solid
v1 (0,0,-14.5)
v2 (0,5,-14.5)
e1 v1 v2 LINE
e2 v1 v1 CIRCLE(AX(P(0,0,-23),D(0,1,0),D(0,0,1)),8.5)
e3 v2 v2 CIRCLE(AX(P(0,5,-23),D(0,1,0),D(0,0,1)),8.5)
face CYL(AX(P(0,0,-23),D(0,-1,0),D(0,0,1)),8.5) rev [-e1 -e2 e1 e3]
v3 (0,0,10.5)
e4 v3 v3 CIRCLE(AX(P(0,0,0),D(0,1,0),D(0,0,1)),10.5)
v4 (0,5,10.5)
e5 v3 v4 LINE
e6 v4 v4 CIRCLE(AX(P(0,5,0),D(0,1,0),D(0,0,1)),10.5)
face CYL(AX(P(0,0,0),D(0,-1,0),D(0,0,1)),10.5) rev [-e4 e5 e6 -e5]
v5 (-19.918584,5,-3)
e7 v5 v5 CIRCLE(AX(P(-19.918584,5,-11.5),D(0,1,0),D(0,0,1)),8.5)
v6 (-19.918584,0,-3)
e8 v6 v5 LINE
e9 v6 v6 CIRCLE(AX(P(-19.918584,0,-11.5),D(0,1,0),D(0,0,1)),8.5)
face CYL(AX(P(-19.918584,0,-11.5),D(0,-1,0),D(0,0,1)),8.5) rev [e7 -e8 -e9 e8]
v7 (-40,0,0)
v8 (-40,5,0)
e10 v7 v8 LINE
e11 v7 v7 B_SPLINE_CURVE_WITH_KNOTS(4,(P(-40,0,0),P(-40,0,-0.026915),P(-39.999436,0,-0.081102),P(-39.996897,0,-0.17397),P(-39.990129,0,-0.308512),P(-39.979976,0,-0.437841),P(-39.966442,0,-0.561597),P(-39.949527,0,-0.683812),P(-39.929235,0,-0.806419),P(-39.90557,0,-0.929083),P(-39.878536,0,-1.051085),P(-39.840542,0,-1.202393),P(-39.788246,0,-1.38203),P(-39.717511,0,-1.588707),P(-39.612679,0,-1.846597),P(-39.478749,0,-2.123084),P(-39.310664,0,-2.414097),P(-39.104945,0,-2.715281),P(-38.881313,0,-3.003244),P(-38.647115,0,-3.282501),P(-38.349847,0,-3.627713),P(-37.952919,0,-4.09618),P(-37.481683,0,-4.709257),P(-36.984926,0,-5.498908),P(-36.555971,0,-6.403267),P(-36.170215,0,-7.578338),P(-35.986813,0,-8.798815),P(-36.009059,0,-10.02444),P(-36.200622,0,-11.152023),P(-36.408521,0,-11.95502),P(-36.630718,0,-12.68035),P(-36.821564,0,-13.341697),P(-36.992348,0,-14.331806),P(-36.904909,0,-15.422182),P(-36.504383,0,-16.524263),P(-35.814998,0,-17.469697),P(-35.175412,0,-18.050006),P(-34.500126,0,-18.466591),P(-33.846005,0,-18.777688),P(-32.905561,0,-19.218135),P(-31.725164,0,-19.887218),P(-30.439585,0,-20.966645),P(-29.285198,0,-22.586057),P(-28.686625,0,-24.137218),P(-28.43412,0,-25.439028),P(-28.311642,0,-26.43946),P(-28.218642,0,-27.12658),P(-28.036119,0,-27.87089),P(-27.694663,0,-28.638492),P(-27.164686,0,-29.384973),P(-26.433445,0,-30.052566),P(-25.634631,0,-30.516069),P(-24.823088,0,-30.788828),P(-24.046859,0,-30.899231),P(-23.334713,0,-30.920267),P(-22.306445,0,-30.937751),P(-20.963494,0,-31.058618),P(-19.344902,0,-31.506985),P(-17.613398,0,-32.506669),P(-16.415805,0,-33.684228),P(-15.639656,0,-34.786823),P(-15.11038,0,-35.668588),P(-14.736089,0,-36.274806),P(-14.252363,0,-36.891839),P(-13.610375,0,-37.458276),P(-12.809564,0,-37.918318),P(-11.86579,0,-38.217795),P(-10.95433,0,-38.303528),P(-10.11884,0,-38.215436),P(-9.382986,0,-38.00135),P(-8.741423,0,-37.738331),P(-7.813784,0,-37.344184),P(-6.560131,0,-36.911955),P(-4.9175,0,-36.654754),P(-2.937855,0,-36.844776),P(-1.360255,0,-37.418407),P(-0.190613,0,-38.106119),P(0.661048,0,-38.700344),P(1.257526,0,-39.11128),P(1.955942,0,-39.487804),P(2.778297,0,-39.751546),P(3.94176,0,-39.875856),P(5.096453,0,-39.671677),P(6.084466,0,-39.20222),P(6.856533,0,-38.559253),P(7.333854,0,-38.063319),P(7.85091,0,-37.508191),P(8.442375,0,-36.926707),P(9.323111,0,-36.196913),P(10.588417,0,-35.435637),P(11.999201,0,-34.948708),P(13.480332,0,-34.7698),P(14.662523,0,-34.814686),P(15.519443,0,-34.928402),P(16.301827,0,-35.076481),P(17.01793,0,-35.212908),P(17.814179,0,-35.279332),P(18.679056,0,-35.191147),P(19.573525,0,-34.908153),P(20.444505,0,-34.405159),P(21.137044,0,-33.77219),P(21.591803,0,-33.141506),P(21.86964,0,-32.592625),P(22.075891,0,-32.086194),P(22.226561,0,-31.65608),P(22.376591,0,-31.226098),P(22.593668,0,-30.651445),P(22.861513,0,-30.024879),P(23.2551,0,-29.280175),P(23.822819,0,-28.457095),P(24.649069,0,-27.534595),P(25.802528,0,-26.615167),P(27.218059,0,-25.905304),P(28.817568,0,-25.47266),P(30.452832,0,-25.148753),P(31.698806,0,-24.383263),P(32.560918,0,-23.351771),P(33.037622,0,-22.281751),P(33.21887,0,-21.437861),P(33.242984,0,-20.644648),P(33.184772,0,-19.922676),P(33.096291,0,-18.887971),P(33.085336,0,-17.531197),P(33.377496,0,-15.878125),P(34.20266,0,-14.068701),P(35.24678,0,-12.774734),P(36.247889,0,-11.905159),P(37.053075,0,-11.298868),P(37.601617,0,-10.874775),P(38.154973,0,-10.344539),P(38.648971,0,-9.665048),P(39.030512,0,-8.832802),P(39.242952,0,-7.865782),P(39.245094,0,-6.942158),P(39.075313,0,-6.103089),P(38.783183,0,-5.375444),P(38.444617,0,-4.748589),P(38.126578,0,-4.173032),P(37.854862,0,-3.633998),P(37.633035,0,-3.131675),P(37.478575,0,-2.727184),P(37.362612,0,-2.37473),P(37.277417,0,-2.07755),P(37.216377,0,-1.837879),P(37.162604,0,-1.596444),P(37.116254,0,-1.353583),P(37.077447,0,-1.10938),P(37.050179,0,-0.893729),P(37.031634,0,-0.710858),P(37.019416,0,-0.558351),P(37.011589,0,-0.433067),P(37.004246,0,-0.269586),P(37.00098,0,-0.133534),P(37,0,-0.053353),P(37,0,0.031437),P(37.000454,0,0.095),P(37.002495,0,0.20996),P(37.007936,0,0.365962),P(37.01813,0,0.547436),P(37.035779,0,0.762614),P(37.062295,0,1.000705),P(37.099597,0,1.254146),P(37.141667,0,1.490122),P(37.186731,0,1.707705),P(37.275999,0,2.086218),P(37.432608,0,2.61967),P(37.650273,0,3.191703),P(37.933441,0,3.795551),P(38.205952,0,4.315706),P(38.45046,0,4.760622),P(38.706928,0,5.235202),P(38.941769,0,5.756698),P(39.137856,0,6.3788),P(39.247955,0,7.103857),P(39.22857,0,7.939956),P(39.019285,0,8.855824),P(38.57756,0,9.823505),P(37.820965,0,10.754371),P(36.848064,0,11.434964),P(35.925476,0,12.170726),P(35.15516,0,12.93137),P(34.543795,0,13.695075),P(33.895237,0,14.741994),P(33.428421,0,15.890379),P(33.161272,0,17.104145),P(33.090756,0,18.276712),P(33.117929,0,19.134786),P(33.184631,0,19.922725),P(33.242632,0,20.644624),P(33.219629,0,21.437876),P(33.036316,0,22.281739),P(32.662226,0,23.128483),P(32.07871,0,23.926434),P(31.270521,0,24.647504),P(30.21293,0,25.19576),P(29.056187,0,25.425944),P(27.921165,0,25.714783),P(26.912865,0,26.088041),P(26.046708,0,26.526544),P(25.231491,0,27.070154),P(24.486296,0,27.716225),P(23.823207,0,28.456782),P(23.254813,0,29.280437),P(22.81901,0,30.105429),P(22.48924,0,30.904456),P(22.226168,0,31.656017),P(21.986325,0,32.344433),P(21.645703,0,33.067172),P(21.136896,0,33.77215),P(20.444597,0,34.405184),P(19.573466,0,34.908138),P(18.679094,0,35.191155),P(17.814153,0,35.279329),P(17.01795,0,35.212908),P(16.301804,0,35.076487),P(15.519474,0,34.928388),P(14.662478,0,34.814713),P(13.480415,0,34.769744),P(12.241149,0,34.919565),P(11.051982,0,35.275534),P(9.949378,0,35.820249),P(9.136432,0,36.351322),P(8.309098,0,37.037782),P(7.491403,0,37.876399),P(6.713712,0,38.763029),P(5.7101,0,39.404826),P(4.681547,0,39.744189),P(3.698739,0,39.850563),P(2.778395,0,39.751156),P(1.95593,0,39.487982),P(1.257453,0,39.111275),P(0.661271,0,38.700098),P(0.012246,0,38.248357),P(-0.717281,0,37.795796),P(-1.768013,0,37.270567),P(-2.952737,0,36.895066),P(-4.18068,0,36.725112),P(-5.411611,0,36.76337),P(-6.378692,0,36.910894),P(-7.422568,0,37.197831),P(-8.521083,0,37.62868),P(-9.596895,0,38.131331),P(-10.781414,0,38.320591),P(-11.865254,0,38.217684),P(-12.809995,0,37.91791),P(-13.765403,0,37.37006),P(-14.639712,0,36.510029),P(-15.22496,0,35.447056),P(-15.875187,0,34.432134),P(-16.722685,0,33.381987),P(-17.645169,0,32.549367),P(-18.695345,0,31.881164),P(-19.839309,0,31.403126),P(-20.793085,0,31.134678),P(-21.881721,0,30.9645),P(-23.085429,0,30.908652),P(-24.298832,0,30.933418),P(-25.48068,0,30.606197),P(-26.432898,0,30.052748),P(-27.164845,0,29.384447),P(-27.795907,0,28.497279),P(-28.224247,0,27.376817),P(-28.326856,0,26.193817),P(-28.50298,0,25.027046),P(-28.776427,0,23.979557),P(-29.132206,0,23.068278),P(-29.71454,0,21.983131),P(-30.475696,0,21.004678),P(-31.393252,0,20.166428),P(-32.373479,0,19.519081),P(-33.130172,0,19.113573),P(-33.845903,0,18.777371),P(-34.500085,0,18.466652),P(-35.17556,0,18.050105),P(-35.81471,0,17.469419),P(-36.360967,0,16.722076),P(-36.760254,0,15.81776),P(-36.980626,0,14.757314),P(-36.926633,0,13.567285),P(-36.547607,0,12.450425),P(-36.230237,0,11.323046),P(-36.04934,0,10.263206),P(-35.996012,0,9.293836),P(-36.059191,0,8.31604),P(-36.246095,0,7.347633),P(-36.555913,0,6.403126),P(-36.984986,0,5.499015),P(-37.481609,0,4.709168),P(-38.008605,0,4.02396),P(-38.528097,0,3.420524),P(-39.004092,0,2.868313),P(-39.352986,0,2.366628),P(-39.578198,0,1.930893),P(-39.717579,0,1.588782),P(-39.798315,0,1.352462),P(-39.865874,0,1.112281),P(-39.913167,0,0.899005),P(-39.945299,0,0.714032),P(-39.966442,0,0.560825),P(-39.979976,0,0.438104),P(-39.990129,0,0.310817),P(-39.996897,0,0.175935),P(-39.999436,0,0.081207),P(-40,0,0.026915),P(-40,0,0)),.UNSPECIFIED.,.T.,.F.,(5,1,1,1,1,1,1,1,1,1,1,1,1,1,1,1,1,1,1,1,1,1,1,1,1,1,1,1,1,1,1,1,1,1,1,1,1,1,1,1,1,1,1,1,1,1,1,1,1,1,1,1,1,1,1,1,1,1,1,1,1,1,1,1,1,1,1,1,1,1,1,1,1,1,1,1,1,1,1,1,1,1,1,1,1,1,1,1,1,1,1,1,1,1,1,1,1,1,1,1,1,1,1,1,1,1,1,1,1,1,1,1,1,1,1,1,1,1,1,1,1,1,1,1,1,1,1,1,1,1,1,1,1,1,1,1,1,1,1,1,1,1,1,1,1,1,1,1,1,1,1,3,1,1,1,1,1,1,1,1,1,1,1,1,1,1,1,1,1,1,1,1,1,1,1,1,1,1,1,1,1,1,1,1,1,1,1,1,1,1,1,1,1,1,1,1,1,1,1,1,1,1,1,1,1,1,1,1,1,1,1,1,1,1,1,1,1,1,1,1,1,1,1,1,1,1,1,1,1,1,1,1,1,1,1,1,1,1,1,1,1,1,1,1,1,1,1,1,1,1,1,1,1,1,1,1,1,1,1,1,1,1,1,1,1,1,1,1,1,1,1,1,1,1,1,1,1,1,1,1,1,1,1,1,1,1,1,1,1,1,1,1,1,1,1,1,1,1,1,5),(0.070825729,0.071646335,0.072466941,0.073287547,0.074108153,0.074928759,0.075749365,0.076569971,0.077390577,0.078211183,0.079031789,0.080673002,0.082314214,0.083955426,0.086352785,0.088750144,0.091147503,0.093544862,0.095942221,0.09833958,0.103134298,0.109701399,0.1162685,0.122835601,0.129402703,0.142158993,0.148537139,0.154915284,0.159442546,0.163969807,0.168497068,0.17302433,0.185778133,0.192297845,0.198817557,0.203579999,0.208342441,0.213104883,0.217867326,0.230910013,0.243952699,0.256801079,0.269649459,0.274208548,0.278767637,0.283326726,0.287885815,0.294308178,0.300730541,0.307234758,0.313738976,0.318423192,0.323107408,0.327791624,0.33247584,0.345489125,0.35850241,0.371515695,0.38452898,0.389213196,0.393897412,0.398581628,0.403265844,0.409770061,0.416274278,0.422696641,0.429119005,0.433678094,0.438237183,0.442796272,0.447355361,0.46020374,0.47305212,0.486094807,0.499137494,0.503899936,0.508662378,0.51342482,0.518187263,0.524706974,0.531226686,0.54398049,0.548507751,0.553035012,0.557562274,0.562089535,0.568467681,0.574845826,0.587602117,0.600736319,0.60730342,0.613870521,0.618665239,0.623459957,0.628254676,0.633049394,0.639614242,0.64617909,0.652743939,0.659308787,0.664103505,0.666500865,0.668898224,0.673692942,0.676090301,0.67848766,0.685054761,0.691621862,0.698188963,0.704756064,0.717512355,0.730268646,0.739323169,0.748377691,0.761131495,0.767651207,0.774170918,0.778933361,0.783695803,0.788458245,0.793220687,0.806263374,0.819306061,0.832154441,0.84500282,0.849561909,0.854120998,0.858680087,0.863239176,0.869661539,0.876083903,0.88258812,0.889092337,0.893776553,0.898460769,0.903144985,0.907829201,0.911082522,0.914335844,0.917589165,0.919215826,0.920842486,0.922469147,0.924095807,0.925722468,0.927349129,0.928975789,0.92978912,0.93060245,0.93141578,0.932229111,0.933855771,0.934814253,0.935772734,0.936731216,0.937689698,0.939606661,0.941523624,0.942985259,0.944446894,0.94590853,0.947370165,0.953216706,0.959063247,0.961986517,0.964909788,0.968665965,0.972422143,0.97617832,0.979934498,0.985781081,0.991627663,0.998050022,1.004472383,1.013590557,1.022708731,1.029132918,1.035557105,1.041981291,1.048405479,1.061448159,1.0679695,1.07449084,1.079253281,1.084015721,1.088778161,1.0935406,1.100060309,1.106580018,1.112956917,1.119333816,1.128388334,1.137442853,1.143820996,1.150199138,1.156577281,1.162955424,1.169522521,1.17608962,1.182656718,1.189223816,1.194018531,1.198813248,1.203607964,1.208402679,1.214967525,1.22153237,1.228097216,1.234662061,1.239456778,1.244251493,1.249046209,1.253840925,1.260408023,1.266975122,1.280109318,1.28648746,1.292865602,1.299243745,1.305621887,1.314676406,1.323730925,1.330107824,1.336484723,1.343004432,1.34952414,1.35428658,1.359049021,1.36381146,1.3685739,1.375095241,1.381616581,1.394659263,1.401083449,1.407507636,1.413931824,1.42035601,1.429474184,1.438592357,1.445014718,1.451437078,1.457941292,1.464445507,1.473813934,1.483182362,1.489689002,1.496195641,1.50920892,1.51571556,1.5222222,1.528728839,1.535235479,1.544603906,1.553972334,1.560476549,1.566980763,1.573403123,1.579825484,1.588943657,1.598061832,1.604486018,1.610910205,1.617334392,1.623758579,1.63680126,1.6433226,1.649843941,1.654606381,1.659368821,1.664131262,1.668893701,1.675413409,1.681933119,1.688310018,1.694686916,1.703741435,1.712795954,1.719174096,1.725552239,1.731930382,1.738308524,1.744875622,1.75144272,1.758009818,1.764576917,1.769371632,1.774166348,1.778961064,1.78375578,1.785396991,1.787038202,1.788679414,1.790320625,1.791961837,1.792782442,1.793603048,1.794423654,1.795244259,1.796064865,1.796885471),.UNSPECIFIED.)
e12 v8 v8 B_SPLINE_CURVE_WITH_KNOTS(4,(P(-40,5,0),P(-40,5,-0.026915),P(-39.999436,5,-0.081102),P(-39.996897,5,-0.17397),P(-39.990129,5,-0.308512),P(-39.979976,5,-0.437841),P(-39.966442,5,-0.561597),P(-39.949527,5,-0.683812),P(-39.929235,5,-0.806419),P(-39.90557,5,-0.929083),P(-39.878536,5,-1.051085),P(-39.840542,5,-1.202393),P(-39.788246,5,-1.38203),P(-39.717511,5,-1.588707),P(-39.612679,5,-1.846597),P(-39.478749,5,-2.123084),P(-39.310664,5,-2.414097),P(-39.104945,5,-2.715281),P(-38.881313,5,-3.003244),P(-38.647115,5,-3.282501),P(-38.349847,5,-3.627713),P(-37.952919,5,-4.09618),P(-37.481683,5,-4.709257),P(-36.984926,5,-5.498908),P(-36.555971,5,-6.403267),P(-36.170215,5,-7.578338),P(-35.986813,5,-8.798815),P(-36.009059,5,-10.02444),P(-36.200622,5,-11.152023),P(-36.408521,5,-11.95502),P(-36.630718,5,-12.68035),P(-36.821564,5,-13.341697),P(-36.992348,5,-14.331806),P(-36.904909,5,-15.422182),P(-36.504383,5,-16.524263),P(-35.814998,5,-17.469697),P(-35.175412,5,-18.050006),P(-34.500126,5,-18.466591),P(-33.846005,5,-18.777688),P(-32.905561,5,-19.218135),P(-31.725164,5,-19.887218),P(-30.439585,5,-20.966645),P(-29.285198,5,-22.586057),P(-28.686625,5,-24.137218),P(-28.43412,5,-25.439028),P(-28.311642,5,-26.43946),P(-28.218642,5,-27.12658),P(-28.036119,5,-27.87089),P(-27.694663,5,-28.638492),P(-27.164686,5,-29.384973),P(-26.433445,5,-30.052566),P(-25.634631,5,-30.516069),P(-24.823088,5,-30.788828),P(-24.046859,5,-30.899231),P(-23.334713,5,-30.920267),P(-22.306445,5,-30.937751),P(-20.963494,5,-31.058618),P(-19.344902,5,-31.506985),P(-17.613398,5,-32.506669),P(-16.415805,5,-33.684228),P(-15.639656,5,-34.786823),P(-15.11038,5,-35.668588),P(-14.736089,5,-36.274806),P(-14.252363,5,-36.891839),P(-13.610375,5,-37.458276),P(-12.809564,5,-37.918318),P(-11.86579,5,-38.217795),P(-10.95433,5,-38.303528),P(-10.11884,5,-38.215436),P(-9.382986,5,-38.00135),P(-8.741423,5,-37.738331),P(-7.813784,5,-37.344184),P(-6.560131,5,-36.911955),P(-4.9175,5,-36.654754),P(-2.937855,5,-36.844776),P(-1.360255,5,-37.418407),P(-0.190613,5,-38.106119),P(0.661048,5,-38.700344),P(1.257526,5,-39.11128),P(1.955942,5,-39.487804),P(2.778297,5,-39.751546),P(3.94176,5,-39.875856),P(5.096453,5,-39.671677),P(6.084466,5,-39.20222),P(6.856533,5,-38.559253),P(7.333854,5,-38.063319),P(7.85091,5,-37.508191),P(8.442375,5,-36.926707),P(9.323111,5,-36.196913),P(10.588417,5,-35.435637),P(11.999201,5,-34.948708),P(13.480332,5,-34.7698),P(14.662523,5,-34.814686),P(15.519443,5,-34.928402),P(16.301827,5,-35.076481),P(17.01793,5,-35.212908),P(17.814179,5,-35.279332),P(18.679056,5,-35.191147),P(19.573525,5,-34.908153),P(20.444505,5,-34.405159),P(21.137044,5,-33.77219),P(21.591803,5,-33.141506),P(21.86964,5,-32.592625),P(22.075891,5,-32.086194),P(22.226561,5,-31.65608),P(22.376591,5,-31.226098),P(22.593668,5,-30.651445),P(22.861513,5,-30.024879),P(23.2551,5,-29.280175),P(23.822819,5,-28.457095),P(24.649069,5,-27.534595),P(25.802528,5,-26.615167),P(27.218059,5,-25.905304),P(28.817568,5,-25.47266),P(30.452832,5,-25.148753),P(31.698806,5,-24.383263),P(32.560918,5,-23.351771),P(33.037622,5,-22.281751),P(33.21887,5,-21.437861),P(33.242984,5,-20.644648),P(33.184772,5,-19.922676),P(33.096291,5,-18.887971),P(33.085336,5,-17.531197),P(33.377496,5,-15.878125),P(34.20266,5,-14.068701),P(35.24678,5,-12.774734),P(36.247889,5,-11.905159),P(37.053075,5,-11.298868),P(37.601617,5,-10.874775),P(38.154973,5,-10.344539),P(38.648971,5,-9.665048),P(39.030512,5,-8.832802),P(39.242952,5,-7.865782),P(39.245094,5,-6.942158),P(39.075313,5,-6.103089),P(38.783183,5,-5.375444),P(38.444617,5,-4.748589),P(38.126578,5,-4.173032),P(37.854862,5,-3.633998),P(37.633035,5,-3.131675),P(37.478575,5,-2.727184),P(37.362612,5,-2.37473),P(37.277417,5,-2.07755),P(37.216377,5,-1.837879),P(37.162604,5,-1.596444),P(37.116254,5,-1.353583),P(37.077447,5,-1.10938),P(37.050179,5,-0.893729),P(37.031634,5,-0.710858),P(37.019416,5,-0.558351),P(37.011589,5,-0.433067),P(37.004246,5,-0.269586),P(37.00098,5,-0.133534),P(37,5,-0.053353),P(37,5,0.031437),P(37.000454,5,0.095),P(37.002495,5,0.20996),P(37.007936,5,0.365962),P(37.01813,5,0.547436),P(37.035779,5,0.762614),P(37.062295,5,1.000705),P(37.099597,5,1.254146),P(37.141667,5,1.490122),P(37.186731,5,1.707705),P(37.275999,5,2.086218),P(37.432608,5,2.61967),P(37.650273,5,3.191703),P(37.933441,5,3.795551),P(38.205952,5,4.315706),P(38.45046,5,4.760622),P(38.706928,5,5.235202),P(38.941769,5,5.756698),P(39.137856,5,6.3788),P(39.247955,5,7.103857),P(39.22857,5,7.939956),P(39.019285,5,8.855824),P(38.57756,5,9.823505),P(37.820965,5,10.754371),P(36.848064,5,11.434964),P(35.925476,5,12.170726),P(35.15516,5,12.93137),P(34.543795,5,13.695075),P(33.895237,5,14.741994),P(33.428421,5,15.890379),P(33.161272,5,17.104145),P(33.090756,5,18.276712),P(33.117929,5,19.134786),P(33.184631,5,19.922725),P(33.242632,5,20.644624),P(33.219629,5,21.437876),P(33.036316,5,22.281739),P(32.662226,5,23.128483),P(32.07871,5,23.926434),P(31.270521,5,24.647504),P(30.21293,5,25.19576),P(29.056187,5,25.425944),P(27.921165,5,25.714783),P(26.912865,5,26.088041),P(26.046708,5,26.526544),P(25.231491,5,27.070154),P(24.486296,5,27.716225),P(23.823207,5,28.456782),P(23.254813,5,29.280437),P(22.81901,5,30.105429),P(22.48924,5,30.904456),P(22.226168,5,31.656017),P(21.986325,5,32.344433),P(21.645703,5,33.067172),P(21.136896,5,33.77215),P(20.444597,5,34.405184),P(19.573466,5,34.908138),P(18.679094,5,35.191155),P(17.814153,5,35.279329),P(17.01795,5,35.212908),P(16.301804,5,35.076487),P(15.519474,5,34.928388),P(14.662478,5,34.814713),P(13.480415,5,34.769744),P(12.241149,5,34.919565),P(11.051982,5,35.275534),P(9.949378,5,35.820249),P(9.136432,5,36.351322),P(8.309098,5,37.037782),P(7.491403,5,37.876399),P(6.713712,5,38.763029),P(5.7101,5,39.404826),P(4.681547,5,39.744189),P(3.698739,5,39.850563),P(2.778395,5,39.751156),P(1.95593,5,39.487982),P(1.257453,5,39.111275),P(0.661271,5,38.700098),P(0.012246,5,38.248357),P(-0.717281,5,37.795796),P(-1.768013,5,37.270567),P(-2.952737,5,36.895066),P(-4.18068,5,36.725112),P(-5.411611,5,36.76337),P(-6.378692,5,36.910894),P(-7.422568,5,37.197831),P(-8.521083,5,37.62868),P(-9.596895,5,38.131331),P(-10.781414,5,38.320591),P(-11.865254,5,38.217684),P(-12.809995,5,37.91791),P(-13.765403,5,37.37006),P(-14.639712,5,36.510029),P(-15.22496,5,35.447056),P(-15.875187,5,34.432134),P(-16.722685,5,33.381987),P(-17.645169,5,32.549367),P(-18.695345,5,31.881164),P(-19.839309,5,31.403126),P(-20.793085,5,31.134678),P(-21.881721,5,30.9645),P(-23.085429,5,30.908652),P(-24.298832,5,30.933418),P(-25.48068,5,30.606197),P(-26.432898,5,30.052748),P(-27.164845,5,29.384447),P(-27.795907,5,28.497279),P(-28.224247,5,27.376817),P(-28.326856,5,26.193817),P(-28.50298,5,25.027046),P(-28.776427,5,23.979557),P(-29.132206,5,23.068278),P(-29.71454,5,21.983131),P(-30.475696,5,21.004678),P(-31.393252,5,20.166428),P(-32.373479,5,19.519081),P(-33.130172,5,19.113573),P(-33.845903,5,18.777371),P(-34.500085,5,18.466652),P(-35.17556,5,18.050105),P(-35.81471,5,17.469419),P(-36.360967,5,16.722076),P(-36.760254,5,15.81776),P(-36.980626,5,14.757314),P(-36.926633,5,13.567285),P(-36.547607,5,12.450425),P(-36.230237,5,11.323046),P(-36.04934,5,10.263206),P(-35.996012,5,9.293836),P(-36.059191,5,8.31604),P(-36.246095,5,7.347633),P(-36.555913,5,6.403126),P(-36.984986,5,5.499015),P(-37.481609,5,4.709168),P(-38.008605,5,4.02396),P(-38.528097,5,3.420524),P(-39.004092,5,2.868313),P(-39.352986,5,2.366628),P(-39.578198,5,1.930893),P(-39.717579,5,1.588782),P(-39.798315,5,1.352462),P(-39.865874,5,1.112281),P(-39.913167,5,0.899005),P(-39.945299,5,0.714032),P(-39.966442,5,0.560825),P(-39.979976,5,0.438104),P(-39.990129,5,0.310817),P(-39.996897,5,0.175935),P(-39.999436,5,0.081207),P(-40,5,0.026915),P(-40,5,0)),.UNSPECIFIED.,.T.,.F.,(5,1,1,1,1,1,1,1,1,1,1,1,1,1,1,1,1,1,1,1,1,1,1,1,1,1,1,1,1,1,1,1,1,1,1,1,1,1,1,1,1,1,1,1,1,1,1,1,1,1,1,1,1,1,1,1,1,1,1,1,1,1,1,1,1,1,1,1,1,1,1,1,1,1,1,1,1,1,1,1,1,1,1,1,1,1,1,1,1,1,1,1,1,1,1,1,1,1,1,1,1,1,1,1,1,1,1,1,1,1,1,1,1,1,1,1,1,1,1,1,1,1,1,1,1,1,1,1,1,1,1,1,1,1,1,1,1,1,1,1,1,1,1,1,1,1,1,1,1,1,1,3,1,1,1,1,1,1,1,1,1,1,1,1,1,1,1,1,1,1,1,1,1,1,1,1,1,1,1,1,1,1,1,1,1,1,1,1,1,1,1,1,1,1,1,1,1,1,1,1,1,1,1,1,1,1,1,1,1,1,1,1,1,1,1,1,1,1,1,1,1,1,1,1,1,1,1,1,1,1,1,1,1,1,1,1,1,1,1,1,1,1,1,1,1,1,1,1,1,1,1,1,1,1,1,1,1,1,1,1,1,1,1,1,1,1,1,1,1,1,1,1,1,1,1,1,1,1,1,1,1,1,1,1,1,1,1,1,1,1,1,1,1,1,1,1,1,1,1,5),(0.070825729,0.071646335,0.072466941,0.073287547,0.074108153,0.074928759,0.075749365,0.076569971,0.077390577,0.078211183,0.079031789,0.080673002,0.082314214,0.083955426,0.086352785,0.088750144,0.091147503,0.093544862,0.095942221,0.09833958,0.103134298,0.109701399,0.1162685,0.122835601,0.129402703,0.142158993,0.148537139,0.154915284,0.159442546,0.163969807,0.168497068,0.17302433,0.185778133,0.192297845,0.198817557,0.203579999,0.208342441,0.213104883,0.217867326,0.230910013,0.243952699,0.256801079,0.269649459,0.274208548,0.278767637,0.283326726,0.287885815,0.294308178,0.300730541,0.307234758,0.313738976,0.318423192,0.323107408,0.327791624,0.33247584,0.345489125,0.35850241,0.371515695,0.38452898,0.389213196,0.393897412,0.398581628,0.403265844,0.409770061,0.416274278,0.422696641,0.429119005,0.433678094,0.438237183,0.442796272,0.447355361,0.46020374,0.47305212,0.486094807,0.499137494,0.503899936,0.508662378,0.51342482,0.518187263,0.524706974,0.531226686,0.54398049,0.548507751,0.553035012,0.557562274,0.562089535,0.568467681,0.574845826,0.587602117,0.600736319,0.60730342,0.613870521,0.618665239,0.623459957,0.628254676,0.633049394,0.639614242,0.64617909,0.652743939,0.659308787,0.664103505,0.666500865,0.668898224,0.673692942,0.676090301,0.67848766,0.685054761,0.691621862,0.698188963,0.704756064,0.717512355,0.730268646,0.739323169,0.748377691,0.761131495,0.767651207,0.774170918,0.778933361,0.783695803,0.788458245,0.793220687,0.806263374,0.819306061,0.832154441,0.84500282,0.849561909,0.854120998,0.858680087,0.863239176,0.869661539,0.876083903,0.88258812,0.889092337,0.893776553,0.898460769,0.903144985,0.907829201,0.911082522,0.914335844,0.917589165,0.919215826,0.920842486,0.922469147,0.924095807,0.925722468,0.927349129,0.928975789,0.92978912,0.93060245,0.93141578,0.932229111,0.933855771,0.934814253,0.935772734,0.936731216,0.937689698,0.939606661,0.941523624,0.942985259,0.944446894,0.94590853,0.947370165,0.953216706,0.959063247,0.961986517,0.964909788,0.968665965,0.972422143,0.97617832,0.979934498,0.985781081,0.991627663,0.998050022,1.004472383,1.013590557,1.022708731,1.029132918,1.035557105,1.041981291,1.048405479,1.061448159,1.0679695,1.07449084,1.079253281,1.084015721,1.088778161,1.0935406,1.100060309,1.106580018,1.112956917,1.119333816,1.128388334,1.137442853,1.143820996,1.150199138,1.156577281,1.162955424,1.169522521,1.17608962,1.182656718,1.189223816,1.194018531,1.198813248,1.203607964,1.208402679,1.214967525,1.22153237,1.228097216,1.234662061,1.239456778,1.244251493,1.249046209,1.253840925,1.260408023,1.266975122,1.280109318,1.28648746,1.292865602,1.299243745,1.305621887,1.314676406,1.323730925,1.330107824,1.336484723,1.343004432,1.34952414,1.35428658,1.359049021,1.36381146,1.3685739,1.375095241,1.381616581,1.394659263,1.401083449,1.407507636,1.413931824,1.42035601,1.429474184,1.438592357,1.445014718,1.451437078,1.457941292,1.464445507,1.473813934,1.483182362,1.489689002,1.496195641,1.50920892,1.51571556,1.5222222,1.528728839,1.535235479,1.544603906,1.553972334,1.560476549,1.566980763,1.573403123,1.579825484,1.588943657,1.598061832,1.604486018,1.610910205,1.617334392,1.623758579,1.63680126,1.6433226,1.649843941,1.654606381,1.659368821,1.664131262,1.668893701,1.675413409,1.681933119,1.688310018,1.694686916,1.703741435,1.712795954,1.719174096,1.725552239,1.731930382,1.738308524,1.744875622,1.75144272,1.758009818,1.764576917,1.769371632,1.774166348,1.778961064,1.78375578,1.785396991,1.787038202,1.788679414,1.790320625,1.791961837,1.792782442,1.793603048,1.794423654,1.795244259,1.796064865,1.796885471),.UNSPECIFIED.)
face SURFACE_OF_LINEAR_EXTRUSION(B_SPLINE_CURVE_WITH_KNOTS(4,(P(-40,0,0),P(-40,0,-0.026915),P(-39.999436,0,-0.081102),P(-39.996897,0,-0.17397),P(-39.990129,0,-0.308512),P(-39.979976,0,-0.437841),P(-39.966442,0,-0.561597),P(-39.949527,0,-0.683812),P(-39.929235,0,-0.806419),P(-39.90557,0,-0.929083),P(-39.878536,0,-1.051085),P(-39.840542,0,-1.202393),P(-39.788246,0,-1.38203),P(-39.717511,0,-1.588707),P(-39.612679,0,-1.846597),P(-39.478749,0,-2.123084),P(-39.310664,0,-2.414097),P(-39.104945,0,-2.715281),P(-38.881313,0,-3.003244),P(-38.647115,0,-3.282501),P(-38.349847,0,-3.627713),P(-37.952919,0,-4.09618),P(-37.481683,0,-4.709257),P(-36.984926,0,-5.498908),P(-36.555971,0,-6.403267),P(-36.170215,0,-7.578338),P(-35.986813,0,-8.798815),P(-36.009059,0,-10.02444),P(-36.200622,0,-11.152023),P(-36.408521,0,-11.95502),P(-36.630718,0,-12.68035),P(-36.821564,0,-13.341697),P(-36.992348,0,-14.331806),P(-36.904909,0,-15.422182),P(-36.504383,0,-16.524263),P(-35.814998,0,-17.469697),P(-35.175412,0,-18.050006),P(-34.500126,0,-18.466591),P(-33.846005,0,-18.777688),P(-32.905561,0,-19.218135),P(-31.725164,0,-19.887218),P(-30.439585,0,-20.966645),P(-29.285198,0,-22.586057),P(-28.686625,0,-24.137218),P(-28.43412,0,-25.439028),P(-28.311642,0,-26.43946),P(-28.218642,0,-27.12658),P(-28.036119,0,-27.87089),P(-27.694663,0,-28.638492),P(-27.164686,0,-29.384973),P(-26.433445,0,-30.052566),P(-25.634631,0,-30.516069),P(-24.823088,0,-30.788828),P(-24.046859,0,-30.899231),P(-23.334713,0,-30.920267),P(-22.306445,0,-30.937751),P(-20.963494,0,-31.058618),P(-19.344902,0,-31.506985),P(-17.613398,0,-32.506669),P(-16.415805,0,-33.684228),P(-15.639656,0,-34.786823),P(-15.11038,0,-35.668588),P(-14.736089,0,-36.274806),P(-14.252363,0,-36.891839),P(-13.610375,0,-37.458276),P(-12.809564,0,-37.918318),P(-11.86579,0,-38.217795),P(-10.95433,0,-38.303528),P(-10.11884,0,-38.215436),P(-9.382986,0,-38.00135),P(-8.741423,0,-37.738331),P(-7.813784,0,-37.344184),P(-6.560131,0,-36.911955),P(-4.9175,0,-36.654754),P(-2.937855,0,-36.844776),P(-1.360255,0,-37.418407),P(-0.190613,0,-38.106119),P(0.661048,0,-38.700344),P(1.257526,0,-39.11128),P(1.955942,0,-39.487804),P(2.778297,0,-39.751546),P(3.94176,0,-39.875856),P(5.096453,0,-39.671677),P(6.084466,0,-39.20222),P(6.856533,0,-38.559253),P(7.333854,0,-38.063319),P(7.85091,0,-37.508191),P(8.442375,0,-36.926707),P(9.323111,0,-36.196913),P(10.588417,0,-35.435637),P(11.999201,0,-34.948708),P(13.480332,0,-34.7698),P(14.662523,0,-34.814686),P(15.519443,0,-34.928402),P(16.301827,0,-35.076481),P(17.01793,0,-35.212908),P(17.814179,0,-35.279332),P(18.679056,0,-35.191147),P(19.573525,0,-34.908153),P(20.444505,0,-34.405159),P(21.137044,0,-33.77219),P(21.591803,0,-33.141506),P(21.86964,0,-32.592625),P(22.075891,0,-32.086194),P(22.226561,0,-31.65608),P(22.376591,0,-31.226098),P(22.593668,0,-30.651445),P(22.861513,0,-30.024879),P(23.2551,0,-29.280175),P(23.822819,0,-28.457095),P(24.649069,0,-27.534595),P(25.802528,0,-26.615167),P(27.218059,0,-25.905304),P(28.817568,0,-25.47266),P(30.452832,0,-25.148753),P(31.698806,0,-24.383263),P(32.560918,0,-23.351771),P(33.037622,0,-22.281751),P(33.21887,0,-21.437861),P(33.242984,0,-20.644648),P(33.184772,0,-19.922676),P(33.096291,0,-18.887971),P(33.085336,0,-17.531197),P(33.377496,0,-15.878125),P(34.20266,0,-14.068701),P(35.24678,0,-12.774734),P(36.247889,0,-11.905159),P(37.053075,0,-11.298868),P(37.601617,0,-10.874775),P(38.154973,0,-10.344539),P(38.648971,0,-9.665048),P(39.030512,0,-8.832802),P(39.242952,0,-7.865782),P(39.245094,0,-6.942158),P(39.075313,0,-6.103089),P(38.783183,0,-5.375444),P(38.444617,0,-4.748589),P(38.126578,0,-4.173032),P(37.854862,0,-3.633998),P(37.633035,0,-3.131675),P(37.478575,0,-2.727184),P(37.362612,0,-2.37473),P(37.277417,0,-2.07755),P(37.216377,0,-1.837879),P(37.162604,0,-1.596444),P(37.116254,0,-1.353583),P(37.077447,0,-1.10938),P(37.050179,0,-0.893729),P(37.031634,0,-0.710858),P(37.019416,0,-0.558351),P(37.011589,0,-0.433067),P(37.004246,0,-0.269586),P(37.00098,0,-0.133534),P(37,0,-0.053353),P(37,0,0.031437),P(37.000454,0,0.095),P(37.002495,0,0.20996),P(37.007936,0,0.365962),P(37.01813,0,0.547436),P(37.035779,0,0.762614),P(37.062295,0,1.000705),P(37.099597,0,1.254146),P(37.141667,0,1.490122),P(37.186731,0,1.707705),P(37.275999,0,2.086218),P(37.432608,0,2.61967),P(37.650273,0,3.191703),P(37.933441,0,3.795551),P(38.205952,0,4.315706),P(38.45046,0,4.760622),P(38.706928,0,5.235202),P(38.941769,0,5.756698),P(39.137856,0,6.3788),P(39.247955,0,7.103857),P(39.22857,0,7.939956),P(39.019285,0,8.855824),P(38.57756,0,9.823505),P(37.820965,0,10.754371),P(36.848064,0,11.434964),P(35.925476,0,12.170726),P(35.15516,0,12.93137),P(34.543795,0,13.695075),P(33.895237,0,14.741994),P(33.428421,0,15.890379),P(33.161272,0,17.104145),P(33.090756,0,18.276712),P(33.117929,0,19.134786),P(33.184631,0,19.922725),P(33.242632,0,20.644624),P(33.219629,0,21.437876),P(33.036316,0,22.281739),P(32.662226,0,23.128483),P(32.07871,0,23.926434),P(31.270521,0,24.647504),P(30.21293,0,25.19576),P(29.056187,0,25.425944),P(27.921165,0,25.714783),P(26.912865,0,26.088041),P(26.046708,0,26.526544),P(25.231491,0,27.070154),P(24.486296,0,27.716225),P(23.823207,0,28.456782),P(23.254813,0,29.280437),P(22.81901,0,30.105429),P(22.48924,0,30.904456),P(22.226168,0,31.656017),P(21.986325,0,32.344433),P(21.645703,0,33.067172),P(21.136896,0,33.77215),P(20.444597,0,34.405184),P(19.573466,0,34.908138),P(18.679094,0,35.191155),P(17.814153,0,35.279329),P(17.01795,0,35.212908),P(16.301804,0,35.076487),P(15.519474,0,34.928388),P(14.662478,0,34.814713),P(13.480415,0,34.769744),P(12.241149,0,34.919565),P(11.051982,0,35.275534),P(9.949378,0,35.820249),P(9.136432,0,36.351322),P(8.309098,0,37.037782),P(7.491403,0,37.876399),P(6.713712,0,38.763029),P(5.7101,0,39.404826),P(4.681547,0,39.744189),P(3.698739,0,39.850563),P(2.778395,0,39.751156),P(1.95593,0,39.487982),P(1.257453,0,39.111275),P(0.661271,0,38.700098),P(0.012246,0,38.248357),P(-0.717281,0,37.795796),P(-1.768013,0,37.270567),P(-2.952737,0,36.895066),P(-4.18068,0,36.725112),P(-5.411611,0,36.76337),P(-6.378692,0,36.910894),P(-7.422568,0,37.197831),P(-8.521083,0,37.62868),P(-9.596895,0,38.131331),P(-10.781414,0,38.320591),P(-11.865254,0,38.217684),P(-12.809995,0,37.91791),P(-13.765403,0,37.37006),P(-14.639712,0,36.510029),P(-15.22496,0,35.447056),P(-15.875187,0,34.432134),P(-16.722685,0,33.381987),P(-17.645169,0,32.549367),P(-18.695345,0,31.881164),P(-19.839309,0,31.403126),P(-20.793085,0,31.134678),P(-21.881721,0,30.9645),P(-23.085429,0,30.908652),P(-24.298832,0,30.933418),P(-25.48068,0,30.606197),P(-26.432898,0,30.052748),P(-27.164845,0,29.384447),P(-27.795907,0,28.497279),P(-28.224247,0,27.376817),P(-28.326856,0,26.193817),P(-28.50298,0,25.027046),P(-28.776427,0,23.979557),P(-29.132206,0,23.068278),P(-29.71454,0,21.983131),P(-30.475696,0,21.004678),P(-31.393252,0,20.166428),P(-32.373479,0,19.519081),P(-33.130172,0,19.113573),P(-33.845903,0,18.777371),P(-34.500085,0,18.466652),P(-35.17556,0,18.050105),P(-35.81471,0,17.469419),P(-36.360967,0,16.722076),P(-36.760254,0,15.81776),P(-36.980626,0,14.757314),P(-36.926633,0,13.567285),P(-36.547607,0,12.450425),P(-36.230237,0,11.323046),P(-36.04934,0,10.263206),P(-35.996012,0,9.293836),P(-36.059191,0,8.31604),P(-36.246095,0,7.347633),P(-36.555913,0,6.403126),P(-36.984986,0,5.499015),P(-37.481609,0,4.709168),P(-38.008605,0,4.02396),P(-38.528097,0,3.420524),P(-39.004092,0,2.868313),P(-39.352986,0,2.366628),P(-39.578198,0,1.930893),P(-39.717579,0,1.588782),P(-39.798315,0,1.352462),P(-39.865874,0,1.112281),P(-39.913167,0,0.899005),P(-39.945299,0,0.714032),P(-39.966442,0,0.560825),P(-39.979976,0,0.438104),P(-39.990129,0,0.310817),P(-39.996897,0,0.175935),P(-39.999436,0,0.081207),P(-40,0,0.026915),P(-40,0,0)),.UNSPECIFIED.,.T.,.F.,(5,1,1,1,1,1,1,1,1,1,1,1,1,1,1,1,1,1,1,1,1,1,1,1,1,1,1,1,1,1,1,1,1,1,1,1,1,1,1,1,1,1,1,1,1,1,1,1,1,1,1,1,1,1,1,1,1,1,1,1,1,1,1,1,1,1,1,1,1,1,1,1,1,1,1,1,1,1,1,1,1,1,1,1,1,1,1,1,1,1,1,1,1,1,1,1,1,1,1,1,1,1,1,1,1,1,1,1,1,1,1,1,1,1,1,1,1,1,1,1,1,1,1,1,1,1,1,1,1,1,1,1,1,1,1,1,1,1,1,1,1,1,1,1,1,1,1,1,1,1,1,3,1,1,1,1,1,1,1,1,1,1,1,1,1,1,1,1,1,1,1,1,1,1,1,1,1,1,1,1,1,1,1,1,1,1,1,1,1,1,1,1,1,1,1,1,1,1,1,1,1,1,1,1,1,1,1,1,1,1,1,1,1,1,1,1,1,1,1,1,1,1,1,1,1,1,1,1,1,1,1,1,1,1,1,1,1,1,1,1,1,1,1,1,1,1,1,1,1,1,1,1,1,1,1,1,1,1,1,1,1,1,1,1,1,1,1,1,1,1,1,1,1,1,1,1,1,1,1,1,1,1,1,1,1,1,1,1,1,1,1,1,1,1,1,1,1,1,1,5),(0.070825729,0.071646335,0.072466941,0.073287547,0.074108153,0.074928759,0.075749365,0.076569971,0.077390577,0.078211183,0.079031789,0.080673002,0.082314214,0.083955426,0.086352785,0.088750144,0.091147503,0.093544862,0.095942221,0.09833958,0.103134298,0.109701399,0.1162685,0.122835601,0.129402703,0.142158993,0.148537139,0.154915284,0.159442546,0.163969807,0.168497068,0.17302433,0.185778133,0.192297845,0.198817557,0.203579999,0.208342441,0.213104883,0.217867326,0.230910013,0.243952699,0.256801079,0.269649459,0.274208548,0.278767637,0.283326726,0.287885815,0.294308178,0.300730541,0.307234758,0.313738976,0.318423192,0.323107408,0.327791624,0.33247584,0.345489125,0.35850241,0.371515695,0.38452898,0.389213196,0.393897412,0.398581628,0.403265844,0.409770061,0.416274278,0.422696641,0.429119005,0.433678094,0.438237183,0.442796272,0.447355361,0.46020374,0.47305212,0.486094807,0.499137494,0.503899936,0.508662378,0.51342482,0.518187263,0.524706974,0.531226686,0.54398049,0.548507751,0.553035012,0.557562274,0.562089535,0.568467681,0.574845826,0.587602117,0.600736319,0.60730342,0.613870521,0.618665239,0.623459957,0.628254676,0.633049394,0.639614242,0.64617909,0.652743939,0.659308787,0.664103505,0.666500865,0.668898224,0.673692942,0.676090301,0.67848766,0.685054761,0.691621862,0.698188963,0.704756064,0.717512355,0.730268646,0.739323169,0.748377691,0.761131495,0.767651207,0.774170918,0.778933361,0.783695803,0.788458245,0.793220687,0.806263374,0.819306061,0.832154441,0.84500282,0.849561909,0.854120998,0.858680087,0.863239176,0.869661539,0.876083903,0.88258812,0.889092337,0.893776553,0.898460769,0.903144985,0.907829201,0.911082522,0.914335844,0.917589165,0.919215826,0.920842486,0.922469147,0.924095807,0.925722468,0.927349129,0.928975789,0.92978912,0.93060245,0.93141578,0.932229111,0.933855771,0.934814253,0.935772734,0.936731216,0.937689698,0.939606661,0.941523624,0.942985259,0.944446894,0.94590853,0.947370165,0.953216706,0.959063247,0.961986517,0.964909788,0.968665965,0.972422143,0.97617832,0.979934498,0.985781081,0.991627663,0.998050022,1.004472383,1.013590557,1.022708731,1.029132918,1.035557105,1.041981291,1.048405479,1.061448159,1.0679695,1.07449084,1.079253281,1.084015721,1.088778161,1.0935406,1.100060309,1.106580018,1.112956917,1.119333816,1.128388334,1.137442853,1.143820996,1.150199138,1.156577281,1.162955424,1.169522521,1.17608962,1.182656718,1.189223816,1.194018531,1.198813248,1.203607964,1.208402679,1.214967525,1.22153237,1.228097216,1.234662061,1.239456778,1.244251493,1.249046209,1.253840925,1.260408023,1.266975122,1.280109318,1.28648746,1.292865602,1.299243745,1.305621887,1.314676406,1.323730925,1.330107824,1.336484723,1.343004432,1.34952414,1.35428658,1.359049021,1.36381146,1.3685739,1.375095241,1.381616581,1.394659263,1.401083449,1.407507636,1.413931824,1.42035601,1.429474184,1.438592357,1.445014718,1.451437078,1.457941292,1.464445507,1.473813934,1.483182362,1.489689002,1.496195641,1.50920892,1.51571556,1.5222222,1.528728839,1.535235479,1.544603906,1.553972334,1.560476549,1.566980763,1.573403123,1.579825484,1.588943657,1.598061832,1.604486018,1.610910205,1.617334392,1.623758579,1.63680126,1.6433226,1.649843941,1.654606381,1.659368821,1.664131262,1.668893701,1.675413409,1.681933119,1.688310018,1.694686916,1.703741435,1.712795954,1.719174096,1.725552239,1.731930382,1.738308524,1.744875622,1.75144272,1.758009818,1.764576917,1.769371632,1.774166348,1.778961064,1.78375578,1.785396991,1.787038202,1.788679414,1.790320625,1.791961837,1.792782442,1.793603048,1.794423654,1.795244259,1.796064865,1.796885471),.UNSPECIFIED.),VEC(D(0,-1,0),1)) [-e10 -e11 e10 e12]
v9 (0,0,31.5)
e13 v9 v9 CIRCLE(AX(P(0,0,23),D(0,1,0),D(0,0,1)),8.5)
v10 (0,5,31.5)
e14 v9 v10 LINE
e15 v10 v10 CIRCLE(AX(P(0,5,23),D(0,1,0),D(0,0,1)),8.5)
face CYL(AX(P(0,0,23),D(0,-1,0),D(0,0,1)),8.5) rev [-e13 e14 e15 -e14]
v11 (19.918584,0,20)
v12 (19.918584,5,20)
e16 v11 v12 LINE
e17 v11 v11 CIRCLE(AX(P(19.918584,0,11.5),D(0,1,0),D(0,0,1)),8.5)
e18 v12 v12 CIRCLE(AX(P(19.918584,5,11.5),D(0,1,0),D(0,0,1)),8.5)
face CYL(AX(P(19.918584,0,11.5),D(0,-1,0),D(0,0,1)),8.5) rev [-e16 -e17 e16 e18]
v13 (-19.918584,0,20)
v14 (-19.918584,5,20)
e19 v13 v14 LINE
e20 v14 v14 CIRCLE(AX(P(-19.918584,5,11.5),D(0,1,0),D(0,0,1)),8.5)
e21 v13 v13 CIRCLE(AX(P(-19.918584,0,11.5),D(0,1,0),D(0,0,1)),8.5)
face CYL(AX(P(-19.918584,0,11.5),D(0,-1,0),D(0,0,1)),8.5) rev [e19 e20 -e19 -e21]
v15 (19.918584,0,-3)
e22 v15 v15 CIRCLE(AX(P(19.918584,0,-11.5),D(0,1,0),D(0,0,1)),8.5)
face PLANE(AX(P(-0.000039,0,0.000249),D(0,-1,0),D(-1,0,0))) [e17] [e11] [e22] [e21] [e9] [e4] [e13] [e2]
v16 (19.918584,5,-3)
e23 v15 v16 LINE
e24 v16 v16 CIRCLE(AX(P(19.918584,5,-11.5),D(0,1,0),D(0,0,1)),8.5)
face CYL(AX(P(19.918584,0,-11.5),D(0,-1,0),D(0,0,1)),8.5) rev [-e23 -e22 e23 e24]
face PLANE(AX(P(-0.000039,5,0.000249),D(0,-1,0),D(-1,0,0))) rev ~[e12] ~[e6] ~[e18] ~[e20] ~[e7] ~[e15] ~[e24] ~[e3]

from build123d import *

# Parameters (mm, degrees)
SKETCH1_R           = 10.5
SKETCH1_R_2         = 8.5
BOSS_EXTRUDE1_DEPTH = 5


with BuildPart() as part:
    # Sketch1 → Boss-Extrude1 (new body)
    with BuildSketch(Plane(origin=(0, 0, 0), x_dir=(1, 0, 0), z_dir=(0, 1, 0))):
        with BuildLine():
            add(Edge.make_bspline(
                [(37, 0), (37, -0.03143727), (37.000453604, -0.094999987), (37.002494823, -0.209960319), (37.007935699, -0.365962041), (37.018130067, -0.547435978), (37.035778539, -0.762613663), (37.062295011, -1.000704503), (37.099596576, -1.254145629), (37.141666769, -1.490121949), (37.186730566, -1.707704996), (37.27599878, -2.086217996), (37.432607644, -2.61967024), (37.650272858, -3.191702622), (37.93344139, -3.795551093), (38.205952219, -4.315706499), (38.450459887, -4.76062227), (38.70692772, -5.235202277), (38.941768984, -5.756697541), (39.137855891, -6.378800099), (39.247955338, -7.103857197), (39.228570469, -7.939956238), (39.019285386, -8.855824089), (38.577559758, -9.823505319), (37.820964583, -10.754370622), (36.848063751, -11.434964366), (35.925475538, -12.170726431), (35.15516003, -12.931370117), (34.54379505, -13.69507461), (33.895237033, -14.741994379), (33.428420876, -15.89037885), (33.16127245, -17.104145416), (33.090755906, -18.276711654), (33.117928675, -19.134785899), (33.184630754, -19.922725011), (33.242632466, -20.644624385), (33.219628569, -21.437875666), (33.036316371, -22.28173929), (32.662226146, -23.128482681), (32.07870968, -23.926433825), (31.270520944, -24.647504284), (30.212930357, -25.19576041), (29.056187351, -25.42594367), (27.921165014, -25.714783041), (26.912865036, -26.088040867), (26.04670806, -26.526543792), (25.231490799, -27.070153578), (24.486296273, -27.71622491), (23.823206933, -28.456781999), (23.254813289, -29.28043732), (22.819009974, -30.105428972), (22.489240246, -30.904456359), (22.226168392, -31.656017359), (21.986325362, -32.344433223), (21.645702747, -33.067171886), (21.136896315, -33.772149992), (20.444596547, -34.405183963), (19.573466113, -34.908137767), (18.679093954, -35.191155105), (17.814153371, -35.279328837), (17.017950382, -35.212908103), (16.301803877, -35.076487108), (15.519474027, -34.928387551), (14.662477813, -34.814713427), (13.480415131, -34.769744424), (12.241149031, -34.919564924), (11.051981736, -35.275534422), (9.949378286, -35.820248955), (9.136432455, -36.351322247), (8.309098279, -37.037782148), (7.491403014, -37.876399023), (6.713712112, -38.763029071), (5.710099738, -39.404826424), (4.681547406, -39.744189192), (3.69873863, -39.8505626), (2.778395229, -39.751156366), (1.955929975, -39.487981912), (1.257453316, -39.111274686), (0.66127052, -38.700097998), (0.012246131, -38.248357139), (-0.717280827, -37.795796162), (-1.768012922, -37.270567489), (-2.952736789, -36.895066329), (-4.18067966, -36.725111536), (-5.411611299, -36.763370496), (-6.378691755, -36.910893685), (-7.422567545, -37.197831253), (-8.521082833, -37.628680279), (-9.596894828, -38.131330913), (-10.781414036, -38.320591213), (-11.865254321, -38.217684033), (-12.80999509, -37.9179101), (-13.765403055, -37.370059655), (-14.639711952, -36.510029042), (-15.224959632, -35.447056134), (-15.875186541, -34.432134449), (-16.722685045, -33.381987434), (-17.645169147, -32.549366784), (-18.695344862, -31.881164302), (-19.839308598, -31.40312617), (-20.793085274, -31.134677942), (-21.881721133, -30.964500419), (-23.08542905, -30.908652495), (-24.29883225, -30.933417715), (-25.48067958, -30.606197148), (-26.432898172, -30.052748185), (-27.164845045, -29.384446693), (-27.795906987, -28.497278622), (-28.22424747, -27.376816763), (-28.326856093, -26.193816745), (-28.502980453, -25.027046282), (-28.77642721, -23.979556749), (-29.132206305, -23.068277653), (-29.714540354, -21.983130932), (-30.47569585, -21.004677931), (-31.393252135, -20.166428114), (-32.373478982, -19.519081264), (-33.130172271, -19.113573458), (-33.84590289, -18.777371391), (-34.500084654, -18.46665169), (-35.175559662, -18.050104617), (-35.814710148, -17.469419426), (-36.360966848, -16.722076387), (-36.760254169, -15.817760446), (-36.980625548, -14.757313597), (-36.926633396, -13.567284637), (-36.547607451, -12.450425229), (-36.230236904, -11.323045642), (-36.049340213, -10.263206081), (-35.996011997, -9.293835892), (-36.059190915, -8.316040479), (-36.246094895, -7.347633334), (-36.555913141, -6.403126163), (-36.984986238, -5.49901541), (-37.4816085, -4.709168384), (-38.008605013, -4.023960492), (-38.528096971, -3.420524047), (-39.004092361, -2.868313105), (-39.352986229, -2.366627778), (-39.578197628, -1.930892754), (-39.717578718, -1.588781599), (-39.798314559, -1.352462416), (-39.865873622, -1.112280964), (-39.913167386, -0.899005121), (-39.945298995, -0.714032443), (-39.966442184, -0.560824819), (-39.979976403, -0.438104209), (-39.99012853, -0.310816751), (-39.99689741, -0.175935477), (-39.999435894, -0.081206791), (-40, -0.026915074), (-40, -1e-09)],
                knots=[0.06614426, 0.06614426, 0.06614426, 0.06614426, 0.06614426, 0.067102742, 0.068061224, 0.069019706, 0.069978188, 0.071895152, 0.073812116, 0.075273751, 0.076735387, 0.078197023, 0.079658659, 0.085505202, 0.091351745, 0.094275016, 0.097198288, 0.100954467, 0.104710646, 0.108466825, 0.112223004, 0.118069589, 0.123916173, 0.130338535, 0.136760898, 0.145879075, 0.154997253, 0.161421442, 0.167845631, 0.17426982, 0.18069401, 0.193736695, 0.200258038, 0.206779381, 0.211541823, 0.216304265, 0.221066707, 0.225829148, 0.232348859, 0.238868571, 0.245245472, 0.251622373, 0.260676895, 0.269731417, 0.276109562, 0.282487707, 0.288865852, 0.295243997, 0.301811097, 0.308378198, 0.314945298, 0.321512399, 0.326307116, 0.331101834, 0.335896552, 0.340691269, 0.347256117, 0.353820965, 0.360385813, 0.366950661, 0.371745379, 0.376540096, 0.381334814, 0.386129532, 0.392696632, 0.399263733, 0.412397934, 0.418776079, 0.425154223, 0.431532368, 0.437910513, 0.446965035, 0.456019557, 0.462396459, 0.46877336, 0.475293071, 0.481812782, 0.486575224, 0.491337666, 0.496100107, 0.500862549, 0.507383892, 0.513905235, 0.526947921, 0.53337211, 0.539796299, 0.546220489, 0.552644678, 0.561762855, 0.570881032, 0.577303395, 0.583725757, 0.590229974, 0.596734191, 0.606102622, 0.615471053, 0.621977695, 0.628484337, 0.641497621, 0.648004263, 0.654510905, 0.661017547, 0.667524189, 0.67689262, 0.686261051, 0.692765268, 0.699269485, 0.705691847, 0.71211421, 0.721232387, 0.730350565, 0.736774754, 0.743198943, 0.749623132, 0.756047322, 0.769090007, 0.77561135, 0.782132693, 0.786895135, 0.791657577, 0.796420019, 0.80118246, 0.807702171, 0.814221883, 0.820598784, 0.826975685, 0.836030207, 0.845084729, 0.851462874, 0.857841019, 0.864219164, 0.870597309, 0.877164409, 0.88373151, 0.89029861, 0.896865711, 0.901660428, 0.906455146, 0.911249864, 0.916044581, 0.917685793, 0.919327005, 0.920968217, 0.922609429, 0.924250641, 0.925071247, 0.925891853, 0.926712459, 0.927533065, 0.928353671, 0.929174277, 0.929174277, 0.929174277, 0.929174277, 0.929174277], degree=4))
            add(Edge.make_bspline(
                [(-40, -1e-09), (-40, 0.026915073), (-39.999435898, 0.081102132), (-39.996897439, 0.173969707), (-39.990128591, 0.308512197), (-39.979976315, 0.43784111), (-39.96644193, 0.561596862), (-39.949527385, 0.683811751), (-39.92923545, 0.806418669), (-39.905569953, 0.929082564), (-39.878536112, 1.05108509), (-39.840542165, 1.202393225), (-39.788245672, 1.382030281), (-39.717511124, 1.588706673), (-39.612678592, 1.8465975), (-39.4787487, 2.123083835), (-39.310663945, 2.414096923), (-39.104945299, 2.715281305), (-38.881313352, 3.003243592), (-38.647115103, 3.282501031), (-38.34984736, 3.627713203), (-37.95291863, 4.096180366), (-37.481683121, 4.709256859), (-36.984926096, 5.498908372), (-36.555971315, 6.403267497), (-36.170215472, 7.578337946), (-35.9868127, 8.798814705), (-36.009059108, 10.024440425), (-36.200622014, 11.152023378), (-36.408520549, 11.955019807), (-36.630718407, 12.680349542), (-36.821563566, 13.341696839), (-36.992348492, 14.33180594), (-36.904909082, 15.422182159), (-36.504382838, 16.524262833), (-35.814997617, 17.469697467), (-35.175412137, 18.050006312), (-34.5001255, 18.466591368), (-33.84600501, 18.777687977), (-32.905560624, 19.218134843), (-31.725163504, 19.887218348), (-30.439584969, 20.966645125), (-29.285197967, 22.586057403), (-28.686625036, 24.137217697), (-28.434119871, 25.439027518), (-28.31164158, 26.439459997), (-28.21864172, 27.126579635), (-28.036118522, 27.870890122), (-27.694662989, 28.638492196), (-27.164686183, 29.384972568), (-26.433444718, 30.052566346), (-25.634630631, 30.516068805), (-24.823088132, 30.788827784), (-24.04685872, 30.899230803), (-23.334712945, 30.920266621), (-22.306444557, 30.937751057), (-20.963494482, 31.058617768), (-19.344902311, 31.506985138), (-17.613398371, 32.506669405), (-16.415804752, 33.684227657), (-15.639656073, 34.786823183), (-15.110379913, 35.668587511), (-14.736089473, 36.274805934), (-14.252362947, 36.891838815), (-13.610375494, 37.458275746), (-12.809563546, 37.918317809), (-11.865789642, 38.217794604), (-10.954330273, 38.303527797), (-10.118839611, 38.215435923), (-9.382986221, 38.00135041), (-8.741423229, 37.738330824), (-7.813784142, 37.344183911), (-6.560131184, 36.91195486), (-4.917500499, 36.654754125), (-2.937854825, 36.844776382), (-1.360254549, 37.418406773), (-0.190612674, 38.106118753), (0.66104769, 38.700344294), (1.25752551, 39.11128049), (1.955942055, 39.487804143), (2.778297019, 39.751545742), (3.94176, 39.875855803), (5.096453052, 39.671677477), (6.084466159, 39.202219931), (6.856533473, 38.559253291), (7.333854157, 38.063319478), (7.850909823, 37.508190885), (8.442374814, 36.92670684), (9.323110596, 36.196912537), (10.58841665, 35.435636692), (11.999200644, 34.94870835), (13.48033229, 34.769799778), (14.662523081, 34.814686453), (15.519442707, 34.928402455), (16.301826743, 35.076481327), (17.01792965, 35.21290787), (17.814178726, 35.27933238), (18.679056308, 35.191146999), (19.573524947, 34.908152618), (20.444504658, 34.405159426), (21.137044029, 33.772190195), (21.591803381, 33.141505578), (21.869639533, 32.592625152), (22.075891139, 32.086193752), (22.226561366, 31.656080042), (22.376591176, 31.226097871), (22.593668003, 30.651444897), (22.86151291, 30.024879345), (23.255100485, 29.280174836), (23.822818619, 28.457094584), (24.649069231, 27.534594711), (25.802527601, 26.61516732), (27.218058872, 25.905303721), (28.817567995, 25.472660001), (30.452832349, 25.14875342), (31.698805724, 24.383263182), (32.56091801, 23.351770837), (33.037621539, 22.281751264), (33.218869869, 21.437861265), (33.242984107, 20.64464847), (33.184772246, 19.922675951), (33.096291135, 18.887971334), (33.085336205, 17.531197285), (33.377495648, 15.878125019), (34.202660288, 14.068701252), (35.246780487, 12.774733869), (36.247889348, 11.905159004), (37.053074749, 11.298868113), (37.601617193, 10.874775338), (38.154972669, 10.344538529), (38.64897071, 9.665047684), (39.030511654, 8.832802317), (39.242952499, 7.865782472), (39.245093638, 6.94215806), (39.075312522, 6.10308858), (38.783182879, 5.375443563), (38.444617083, 4.748588598), (38.126578469, 4.173031944), (37.854861766, 3.633998474), (37.633034591, 3.131674523), (37.47857496, 2.727184292), (37.362612428, 2.374730281), (37.2774171, 2.077549654), (37.216377239, 1.837879163), (37.162604445, 1.596443845), (37.116253691, 1.353582746), (37.077446812, 1.109379842), (37.050179424, 0.893728529), (37.031634183, 0.710857807), (37.019415923, 0.558351339), (37.011589025, 0.433066649), (37.00424606, 0.269586224), (37.00097986, 0.133534053), (37, 0.053352873), (37, 0)],
                knots=[0.070825729, 0.070825729, 0.070825729, 0.070825729, 0.070825729, 0.071646335, 0.072466941, 0.073287547, 0.074108153, 0.074928759, 0.075749365, 0.076569971, 0.077390577, 0.078211183, 0.079031789, 0.080673002, 0.082314214, 0.083955426, 0.086352785, 0.088750144, 0.091147503, 0.093544862, 0.095942221, 0.09833958, 0.103134298, 0.109701399, 0.1162685, 0.122835601, 0.129402703, 0.142158993, 0.148537139, 0.154915284, 0.159442546, 0.163969807, 0.168497068, 0.17302433, 0.185778133, 0.192297845, 0.198817557, 0.203579999, 0.208342441, 0.213104883, 0.217867326, 0.230910013, 0.243952699, 0.256801079, 0.269649459, 0.274208548, 0.278767637, 0.283326726, 0.287885815, 0.294308178, 0.300730541, 0.307234758, 0.313738976, 0.318423192, 0.323107408, 0.327791624, 0.33247584, 0.345489125, 0.35850241, 0.371515695, 0.38452898, 0.389213196, 0.393897412, 0.398581628, 0.403265844, 0.409770061, 0.416274278, 0.422696641, 0.429119005, 0.433678094, 0.438237183, 0.442796272, 0.447355361, 0.46020374, 0.47305212, 0.486094807, 0.499137494, 0.503899936, 0.508662378, 0.51342482, 0.518187263, 0.524706974, 0.531226686, 0.54398049, 0.548507751, 0.553035012, 0.557562274, 0.562089535, 0.568467681, 0.574845826, 0.587602117, 0.600736319, 0.60730342, 0.613870521, 0.618665239, 0.623459957, 0.628254676, 0.633049394, 0.639614242, 0.64617909, 0.652743939, 0.659308787, 0.664103505, 0.666500865, 0.668898224, 0.673692942, 0.676090301, 0.67848766, 0.685054761, 0.691621862, 0.698188963, 0.704756064, 0.717512355, 0.730268646, 0.739323169, 0.748377691, 0.761131495, 0.767651207, 0.774170918, 0.778933361, 0.783695803, 0.788458245, 0.793220687, 0.806263374, 0.819306061, 0.832154441, 0.84500282, 0.849561909, 0.854120998, 0.858680087, 0.863239176, 0.869661539, 0.876083903, 0.88258812, 0.889092337, 0.893776553, 0.898460769, 0.903144985, 0.907829201, 0.911082522, 0.914335844, 0.917589165, 0.919215826, 0.920842486, 0.922469147, 0.924095807, 0.925722468, 0.927349129, 0.928975789, 0.92978912, 0.93060245, 0.93141578, 0.932229111, 0.933855771, 0.933855771, 0.933855771, 0.933855771, 0.933855771], degree=4))
        make_face()
        with Locations(Location((0, 0, 0), (0, 0, 270))):
            Circle(SKETCH1_R, mode=Mode.SUBTRACT)
        with Locations(Location((0, 23, 0), (0, 0, 270))):
            Circle(SKETCH1_R_2, mode=Mode.SUBTRACT)
        with Locations(Location((19.918584287, 11.5, 0), (0, 0, 270))):
            Circle(SKETCH1_R_2, mode=Mode.SUBTRACT)
        with Locations(Location((19.918584287, -11.5, 0), (0, 0, 270))):
            Circle(SKETCH1_R_2, mode=Mode.SUBTRACT)
        with Locations(Location((0, -23, 0), (0, 0, 270))):
            Circle(SKETCH1_R_2, mode=Mode.SUBTRACT)
        with Locations(Location((-19.918584287, -11.5, 0), (0, 0, 270))):
            Circle(SKETCH1_R_2, mode=Mode.SUBTRACT)
        with Locations(Location((-19.918584287, 11.5, 0), (0, 0, 270))):
            Circle(SKETCH1_R_2, mode=Mode.SUBTRACT)
    extrude(amount=BOSS_EXTRUDE1_DEPTH)


solid = part.part
